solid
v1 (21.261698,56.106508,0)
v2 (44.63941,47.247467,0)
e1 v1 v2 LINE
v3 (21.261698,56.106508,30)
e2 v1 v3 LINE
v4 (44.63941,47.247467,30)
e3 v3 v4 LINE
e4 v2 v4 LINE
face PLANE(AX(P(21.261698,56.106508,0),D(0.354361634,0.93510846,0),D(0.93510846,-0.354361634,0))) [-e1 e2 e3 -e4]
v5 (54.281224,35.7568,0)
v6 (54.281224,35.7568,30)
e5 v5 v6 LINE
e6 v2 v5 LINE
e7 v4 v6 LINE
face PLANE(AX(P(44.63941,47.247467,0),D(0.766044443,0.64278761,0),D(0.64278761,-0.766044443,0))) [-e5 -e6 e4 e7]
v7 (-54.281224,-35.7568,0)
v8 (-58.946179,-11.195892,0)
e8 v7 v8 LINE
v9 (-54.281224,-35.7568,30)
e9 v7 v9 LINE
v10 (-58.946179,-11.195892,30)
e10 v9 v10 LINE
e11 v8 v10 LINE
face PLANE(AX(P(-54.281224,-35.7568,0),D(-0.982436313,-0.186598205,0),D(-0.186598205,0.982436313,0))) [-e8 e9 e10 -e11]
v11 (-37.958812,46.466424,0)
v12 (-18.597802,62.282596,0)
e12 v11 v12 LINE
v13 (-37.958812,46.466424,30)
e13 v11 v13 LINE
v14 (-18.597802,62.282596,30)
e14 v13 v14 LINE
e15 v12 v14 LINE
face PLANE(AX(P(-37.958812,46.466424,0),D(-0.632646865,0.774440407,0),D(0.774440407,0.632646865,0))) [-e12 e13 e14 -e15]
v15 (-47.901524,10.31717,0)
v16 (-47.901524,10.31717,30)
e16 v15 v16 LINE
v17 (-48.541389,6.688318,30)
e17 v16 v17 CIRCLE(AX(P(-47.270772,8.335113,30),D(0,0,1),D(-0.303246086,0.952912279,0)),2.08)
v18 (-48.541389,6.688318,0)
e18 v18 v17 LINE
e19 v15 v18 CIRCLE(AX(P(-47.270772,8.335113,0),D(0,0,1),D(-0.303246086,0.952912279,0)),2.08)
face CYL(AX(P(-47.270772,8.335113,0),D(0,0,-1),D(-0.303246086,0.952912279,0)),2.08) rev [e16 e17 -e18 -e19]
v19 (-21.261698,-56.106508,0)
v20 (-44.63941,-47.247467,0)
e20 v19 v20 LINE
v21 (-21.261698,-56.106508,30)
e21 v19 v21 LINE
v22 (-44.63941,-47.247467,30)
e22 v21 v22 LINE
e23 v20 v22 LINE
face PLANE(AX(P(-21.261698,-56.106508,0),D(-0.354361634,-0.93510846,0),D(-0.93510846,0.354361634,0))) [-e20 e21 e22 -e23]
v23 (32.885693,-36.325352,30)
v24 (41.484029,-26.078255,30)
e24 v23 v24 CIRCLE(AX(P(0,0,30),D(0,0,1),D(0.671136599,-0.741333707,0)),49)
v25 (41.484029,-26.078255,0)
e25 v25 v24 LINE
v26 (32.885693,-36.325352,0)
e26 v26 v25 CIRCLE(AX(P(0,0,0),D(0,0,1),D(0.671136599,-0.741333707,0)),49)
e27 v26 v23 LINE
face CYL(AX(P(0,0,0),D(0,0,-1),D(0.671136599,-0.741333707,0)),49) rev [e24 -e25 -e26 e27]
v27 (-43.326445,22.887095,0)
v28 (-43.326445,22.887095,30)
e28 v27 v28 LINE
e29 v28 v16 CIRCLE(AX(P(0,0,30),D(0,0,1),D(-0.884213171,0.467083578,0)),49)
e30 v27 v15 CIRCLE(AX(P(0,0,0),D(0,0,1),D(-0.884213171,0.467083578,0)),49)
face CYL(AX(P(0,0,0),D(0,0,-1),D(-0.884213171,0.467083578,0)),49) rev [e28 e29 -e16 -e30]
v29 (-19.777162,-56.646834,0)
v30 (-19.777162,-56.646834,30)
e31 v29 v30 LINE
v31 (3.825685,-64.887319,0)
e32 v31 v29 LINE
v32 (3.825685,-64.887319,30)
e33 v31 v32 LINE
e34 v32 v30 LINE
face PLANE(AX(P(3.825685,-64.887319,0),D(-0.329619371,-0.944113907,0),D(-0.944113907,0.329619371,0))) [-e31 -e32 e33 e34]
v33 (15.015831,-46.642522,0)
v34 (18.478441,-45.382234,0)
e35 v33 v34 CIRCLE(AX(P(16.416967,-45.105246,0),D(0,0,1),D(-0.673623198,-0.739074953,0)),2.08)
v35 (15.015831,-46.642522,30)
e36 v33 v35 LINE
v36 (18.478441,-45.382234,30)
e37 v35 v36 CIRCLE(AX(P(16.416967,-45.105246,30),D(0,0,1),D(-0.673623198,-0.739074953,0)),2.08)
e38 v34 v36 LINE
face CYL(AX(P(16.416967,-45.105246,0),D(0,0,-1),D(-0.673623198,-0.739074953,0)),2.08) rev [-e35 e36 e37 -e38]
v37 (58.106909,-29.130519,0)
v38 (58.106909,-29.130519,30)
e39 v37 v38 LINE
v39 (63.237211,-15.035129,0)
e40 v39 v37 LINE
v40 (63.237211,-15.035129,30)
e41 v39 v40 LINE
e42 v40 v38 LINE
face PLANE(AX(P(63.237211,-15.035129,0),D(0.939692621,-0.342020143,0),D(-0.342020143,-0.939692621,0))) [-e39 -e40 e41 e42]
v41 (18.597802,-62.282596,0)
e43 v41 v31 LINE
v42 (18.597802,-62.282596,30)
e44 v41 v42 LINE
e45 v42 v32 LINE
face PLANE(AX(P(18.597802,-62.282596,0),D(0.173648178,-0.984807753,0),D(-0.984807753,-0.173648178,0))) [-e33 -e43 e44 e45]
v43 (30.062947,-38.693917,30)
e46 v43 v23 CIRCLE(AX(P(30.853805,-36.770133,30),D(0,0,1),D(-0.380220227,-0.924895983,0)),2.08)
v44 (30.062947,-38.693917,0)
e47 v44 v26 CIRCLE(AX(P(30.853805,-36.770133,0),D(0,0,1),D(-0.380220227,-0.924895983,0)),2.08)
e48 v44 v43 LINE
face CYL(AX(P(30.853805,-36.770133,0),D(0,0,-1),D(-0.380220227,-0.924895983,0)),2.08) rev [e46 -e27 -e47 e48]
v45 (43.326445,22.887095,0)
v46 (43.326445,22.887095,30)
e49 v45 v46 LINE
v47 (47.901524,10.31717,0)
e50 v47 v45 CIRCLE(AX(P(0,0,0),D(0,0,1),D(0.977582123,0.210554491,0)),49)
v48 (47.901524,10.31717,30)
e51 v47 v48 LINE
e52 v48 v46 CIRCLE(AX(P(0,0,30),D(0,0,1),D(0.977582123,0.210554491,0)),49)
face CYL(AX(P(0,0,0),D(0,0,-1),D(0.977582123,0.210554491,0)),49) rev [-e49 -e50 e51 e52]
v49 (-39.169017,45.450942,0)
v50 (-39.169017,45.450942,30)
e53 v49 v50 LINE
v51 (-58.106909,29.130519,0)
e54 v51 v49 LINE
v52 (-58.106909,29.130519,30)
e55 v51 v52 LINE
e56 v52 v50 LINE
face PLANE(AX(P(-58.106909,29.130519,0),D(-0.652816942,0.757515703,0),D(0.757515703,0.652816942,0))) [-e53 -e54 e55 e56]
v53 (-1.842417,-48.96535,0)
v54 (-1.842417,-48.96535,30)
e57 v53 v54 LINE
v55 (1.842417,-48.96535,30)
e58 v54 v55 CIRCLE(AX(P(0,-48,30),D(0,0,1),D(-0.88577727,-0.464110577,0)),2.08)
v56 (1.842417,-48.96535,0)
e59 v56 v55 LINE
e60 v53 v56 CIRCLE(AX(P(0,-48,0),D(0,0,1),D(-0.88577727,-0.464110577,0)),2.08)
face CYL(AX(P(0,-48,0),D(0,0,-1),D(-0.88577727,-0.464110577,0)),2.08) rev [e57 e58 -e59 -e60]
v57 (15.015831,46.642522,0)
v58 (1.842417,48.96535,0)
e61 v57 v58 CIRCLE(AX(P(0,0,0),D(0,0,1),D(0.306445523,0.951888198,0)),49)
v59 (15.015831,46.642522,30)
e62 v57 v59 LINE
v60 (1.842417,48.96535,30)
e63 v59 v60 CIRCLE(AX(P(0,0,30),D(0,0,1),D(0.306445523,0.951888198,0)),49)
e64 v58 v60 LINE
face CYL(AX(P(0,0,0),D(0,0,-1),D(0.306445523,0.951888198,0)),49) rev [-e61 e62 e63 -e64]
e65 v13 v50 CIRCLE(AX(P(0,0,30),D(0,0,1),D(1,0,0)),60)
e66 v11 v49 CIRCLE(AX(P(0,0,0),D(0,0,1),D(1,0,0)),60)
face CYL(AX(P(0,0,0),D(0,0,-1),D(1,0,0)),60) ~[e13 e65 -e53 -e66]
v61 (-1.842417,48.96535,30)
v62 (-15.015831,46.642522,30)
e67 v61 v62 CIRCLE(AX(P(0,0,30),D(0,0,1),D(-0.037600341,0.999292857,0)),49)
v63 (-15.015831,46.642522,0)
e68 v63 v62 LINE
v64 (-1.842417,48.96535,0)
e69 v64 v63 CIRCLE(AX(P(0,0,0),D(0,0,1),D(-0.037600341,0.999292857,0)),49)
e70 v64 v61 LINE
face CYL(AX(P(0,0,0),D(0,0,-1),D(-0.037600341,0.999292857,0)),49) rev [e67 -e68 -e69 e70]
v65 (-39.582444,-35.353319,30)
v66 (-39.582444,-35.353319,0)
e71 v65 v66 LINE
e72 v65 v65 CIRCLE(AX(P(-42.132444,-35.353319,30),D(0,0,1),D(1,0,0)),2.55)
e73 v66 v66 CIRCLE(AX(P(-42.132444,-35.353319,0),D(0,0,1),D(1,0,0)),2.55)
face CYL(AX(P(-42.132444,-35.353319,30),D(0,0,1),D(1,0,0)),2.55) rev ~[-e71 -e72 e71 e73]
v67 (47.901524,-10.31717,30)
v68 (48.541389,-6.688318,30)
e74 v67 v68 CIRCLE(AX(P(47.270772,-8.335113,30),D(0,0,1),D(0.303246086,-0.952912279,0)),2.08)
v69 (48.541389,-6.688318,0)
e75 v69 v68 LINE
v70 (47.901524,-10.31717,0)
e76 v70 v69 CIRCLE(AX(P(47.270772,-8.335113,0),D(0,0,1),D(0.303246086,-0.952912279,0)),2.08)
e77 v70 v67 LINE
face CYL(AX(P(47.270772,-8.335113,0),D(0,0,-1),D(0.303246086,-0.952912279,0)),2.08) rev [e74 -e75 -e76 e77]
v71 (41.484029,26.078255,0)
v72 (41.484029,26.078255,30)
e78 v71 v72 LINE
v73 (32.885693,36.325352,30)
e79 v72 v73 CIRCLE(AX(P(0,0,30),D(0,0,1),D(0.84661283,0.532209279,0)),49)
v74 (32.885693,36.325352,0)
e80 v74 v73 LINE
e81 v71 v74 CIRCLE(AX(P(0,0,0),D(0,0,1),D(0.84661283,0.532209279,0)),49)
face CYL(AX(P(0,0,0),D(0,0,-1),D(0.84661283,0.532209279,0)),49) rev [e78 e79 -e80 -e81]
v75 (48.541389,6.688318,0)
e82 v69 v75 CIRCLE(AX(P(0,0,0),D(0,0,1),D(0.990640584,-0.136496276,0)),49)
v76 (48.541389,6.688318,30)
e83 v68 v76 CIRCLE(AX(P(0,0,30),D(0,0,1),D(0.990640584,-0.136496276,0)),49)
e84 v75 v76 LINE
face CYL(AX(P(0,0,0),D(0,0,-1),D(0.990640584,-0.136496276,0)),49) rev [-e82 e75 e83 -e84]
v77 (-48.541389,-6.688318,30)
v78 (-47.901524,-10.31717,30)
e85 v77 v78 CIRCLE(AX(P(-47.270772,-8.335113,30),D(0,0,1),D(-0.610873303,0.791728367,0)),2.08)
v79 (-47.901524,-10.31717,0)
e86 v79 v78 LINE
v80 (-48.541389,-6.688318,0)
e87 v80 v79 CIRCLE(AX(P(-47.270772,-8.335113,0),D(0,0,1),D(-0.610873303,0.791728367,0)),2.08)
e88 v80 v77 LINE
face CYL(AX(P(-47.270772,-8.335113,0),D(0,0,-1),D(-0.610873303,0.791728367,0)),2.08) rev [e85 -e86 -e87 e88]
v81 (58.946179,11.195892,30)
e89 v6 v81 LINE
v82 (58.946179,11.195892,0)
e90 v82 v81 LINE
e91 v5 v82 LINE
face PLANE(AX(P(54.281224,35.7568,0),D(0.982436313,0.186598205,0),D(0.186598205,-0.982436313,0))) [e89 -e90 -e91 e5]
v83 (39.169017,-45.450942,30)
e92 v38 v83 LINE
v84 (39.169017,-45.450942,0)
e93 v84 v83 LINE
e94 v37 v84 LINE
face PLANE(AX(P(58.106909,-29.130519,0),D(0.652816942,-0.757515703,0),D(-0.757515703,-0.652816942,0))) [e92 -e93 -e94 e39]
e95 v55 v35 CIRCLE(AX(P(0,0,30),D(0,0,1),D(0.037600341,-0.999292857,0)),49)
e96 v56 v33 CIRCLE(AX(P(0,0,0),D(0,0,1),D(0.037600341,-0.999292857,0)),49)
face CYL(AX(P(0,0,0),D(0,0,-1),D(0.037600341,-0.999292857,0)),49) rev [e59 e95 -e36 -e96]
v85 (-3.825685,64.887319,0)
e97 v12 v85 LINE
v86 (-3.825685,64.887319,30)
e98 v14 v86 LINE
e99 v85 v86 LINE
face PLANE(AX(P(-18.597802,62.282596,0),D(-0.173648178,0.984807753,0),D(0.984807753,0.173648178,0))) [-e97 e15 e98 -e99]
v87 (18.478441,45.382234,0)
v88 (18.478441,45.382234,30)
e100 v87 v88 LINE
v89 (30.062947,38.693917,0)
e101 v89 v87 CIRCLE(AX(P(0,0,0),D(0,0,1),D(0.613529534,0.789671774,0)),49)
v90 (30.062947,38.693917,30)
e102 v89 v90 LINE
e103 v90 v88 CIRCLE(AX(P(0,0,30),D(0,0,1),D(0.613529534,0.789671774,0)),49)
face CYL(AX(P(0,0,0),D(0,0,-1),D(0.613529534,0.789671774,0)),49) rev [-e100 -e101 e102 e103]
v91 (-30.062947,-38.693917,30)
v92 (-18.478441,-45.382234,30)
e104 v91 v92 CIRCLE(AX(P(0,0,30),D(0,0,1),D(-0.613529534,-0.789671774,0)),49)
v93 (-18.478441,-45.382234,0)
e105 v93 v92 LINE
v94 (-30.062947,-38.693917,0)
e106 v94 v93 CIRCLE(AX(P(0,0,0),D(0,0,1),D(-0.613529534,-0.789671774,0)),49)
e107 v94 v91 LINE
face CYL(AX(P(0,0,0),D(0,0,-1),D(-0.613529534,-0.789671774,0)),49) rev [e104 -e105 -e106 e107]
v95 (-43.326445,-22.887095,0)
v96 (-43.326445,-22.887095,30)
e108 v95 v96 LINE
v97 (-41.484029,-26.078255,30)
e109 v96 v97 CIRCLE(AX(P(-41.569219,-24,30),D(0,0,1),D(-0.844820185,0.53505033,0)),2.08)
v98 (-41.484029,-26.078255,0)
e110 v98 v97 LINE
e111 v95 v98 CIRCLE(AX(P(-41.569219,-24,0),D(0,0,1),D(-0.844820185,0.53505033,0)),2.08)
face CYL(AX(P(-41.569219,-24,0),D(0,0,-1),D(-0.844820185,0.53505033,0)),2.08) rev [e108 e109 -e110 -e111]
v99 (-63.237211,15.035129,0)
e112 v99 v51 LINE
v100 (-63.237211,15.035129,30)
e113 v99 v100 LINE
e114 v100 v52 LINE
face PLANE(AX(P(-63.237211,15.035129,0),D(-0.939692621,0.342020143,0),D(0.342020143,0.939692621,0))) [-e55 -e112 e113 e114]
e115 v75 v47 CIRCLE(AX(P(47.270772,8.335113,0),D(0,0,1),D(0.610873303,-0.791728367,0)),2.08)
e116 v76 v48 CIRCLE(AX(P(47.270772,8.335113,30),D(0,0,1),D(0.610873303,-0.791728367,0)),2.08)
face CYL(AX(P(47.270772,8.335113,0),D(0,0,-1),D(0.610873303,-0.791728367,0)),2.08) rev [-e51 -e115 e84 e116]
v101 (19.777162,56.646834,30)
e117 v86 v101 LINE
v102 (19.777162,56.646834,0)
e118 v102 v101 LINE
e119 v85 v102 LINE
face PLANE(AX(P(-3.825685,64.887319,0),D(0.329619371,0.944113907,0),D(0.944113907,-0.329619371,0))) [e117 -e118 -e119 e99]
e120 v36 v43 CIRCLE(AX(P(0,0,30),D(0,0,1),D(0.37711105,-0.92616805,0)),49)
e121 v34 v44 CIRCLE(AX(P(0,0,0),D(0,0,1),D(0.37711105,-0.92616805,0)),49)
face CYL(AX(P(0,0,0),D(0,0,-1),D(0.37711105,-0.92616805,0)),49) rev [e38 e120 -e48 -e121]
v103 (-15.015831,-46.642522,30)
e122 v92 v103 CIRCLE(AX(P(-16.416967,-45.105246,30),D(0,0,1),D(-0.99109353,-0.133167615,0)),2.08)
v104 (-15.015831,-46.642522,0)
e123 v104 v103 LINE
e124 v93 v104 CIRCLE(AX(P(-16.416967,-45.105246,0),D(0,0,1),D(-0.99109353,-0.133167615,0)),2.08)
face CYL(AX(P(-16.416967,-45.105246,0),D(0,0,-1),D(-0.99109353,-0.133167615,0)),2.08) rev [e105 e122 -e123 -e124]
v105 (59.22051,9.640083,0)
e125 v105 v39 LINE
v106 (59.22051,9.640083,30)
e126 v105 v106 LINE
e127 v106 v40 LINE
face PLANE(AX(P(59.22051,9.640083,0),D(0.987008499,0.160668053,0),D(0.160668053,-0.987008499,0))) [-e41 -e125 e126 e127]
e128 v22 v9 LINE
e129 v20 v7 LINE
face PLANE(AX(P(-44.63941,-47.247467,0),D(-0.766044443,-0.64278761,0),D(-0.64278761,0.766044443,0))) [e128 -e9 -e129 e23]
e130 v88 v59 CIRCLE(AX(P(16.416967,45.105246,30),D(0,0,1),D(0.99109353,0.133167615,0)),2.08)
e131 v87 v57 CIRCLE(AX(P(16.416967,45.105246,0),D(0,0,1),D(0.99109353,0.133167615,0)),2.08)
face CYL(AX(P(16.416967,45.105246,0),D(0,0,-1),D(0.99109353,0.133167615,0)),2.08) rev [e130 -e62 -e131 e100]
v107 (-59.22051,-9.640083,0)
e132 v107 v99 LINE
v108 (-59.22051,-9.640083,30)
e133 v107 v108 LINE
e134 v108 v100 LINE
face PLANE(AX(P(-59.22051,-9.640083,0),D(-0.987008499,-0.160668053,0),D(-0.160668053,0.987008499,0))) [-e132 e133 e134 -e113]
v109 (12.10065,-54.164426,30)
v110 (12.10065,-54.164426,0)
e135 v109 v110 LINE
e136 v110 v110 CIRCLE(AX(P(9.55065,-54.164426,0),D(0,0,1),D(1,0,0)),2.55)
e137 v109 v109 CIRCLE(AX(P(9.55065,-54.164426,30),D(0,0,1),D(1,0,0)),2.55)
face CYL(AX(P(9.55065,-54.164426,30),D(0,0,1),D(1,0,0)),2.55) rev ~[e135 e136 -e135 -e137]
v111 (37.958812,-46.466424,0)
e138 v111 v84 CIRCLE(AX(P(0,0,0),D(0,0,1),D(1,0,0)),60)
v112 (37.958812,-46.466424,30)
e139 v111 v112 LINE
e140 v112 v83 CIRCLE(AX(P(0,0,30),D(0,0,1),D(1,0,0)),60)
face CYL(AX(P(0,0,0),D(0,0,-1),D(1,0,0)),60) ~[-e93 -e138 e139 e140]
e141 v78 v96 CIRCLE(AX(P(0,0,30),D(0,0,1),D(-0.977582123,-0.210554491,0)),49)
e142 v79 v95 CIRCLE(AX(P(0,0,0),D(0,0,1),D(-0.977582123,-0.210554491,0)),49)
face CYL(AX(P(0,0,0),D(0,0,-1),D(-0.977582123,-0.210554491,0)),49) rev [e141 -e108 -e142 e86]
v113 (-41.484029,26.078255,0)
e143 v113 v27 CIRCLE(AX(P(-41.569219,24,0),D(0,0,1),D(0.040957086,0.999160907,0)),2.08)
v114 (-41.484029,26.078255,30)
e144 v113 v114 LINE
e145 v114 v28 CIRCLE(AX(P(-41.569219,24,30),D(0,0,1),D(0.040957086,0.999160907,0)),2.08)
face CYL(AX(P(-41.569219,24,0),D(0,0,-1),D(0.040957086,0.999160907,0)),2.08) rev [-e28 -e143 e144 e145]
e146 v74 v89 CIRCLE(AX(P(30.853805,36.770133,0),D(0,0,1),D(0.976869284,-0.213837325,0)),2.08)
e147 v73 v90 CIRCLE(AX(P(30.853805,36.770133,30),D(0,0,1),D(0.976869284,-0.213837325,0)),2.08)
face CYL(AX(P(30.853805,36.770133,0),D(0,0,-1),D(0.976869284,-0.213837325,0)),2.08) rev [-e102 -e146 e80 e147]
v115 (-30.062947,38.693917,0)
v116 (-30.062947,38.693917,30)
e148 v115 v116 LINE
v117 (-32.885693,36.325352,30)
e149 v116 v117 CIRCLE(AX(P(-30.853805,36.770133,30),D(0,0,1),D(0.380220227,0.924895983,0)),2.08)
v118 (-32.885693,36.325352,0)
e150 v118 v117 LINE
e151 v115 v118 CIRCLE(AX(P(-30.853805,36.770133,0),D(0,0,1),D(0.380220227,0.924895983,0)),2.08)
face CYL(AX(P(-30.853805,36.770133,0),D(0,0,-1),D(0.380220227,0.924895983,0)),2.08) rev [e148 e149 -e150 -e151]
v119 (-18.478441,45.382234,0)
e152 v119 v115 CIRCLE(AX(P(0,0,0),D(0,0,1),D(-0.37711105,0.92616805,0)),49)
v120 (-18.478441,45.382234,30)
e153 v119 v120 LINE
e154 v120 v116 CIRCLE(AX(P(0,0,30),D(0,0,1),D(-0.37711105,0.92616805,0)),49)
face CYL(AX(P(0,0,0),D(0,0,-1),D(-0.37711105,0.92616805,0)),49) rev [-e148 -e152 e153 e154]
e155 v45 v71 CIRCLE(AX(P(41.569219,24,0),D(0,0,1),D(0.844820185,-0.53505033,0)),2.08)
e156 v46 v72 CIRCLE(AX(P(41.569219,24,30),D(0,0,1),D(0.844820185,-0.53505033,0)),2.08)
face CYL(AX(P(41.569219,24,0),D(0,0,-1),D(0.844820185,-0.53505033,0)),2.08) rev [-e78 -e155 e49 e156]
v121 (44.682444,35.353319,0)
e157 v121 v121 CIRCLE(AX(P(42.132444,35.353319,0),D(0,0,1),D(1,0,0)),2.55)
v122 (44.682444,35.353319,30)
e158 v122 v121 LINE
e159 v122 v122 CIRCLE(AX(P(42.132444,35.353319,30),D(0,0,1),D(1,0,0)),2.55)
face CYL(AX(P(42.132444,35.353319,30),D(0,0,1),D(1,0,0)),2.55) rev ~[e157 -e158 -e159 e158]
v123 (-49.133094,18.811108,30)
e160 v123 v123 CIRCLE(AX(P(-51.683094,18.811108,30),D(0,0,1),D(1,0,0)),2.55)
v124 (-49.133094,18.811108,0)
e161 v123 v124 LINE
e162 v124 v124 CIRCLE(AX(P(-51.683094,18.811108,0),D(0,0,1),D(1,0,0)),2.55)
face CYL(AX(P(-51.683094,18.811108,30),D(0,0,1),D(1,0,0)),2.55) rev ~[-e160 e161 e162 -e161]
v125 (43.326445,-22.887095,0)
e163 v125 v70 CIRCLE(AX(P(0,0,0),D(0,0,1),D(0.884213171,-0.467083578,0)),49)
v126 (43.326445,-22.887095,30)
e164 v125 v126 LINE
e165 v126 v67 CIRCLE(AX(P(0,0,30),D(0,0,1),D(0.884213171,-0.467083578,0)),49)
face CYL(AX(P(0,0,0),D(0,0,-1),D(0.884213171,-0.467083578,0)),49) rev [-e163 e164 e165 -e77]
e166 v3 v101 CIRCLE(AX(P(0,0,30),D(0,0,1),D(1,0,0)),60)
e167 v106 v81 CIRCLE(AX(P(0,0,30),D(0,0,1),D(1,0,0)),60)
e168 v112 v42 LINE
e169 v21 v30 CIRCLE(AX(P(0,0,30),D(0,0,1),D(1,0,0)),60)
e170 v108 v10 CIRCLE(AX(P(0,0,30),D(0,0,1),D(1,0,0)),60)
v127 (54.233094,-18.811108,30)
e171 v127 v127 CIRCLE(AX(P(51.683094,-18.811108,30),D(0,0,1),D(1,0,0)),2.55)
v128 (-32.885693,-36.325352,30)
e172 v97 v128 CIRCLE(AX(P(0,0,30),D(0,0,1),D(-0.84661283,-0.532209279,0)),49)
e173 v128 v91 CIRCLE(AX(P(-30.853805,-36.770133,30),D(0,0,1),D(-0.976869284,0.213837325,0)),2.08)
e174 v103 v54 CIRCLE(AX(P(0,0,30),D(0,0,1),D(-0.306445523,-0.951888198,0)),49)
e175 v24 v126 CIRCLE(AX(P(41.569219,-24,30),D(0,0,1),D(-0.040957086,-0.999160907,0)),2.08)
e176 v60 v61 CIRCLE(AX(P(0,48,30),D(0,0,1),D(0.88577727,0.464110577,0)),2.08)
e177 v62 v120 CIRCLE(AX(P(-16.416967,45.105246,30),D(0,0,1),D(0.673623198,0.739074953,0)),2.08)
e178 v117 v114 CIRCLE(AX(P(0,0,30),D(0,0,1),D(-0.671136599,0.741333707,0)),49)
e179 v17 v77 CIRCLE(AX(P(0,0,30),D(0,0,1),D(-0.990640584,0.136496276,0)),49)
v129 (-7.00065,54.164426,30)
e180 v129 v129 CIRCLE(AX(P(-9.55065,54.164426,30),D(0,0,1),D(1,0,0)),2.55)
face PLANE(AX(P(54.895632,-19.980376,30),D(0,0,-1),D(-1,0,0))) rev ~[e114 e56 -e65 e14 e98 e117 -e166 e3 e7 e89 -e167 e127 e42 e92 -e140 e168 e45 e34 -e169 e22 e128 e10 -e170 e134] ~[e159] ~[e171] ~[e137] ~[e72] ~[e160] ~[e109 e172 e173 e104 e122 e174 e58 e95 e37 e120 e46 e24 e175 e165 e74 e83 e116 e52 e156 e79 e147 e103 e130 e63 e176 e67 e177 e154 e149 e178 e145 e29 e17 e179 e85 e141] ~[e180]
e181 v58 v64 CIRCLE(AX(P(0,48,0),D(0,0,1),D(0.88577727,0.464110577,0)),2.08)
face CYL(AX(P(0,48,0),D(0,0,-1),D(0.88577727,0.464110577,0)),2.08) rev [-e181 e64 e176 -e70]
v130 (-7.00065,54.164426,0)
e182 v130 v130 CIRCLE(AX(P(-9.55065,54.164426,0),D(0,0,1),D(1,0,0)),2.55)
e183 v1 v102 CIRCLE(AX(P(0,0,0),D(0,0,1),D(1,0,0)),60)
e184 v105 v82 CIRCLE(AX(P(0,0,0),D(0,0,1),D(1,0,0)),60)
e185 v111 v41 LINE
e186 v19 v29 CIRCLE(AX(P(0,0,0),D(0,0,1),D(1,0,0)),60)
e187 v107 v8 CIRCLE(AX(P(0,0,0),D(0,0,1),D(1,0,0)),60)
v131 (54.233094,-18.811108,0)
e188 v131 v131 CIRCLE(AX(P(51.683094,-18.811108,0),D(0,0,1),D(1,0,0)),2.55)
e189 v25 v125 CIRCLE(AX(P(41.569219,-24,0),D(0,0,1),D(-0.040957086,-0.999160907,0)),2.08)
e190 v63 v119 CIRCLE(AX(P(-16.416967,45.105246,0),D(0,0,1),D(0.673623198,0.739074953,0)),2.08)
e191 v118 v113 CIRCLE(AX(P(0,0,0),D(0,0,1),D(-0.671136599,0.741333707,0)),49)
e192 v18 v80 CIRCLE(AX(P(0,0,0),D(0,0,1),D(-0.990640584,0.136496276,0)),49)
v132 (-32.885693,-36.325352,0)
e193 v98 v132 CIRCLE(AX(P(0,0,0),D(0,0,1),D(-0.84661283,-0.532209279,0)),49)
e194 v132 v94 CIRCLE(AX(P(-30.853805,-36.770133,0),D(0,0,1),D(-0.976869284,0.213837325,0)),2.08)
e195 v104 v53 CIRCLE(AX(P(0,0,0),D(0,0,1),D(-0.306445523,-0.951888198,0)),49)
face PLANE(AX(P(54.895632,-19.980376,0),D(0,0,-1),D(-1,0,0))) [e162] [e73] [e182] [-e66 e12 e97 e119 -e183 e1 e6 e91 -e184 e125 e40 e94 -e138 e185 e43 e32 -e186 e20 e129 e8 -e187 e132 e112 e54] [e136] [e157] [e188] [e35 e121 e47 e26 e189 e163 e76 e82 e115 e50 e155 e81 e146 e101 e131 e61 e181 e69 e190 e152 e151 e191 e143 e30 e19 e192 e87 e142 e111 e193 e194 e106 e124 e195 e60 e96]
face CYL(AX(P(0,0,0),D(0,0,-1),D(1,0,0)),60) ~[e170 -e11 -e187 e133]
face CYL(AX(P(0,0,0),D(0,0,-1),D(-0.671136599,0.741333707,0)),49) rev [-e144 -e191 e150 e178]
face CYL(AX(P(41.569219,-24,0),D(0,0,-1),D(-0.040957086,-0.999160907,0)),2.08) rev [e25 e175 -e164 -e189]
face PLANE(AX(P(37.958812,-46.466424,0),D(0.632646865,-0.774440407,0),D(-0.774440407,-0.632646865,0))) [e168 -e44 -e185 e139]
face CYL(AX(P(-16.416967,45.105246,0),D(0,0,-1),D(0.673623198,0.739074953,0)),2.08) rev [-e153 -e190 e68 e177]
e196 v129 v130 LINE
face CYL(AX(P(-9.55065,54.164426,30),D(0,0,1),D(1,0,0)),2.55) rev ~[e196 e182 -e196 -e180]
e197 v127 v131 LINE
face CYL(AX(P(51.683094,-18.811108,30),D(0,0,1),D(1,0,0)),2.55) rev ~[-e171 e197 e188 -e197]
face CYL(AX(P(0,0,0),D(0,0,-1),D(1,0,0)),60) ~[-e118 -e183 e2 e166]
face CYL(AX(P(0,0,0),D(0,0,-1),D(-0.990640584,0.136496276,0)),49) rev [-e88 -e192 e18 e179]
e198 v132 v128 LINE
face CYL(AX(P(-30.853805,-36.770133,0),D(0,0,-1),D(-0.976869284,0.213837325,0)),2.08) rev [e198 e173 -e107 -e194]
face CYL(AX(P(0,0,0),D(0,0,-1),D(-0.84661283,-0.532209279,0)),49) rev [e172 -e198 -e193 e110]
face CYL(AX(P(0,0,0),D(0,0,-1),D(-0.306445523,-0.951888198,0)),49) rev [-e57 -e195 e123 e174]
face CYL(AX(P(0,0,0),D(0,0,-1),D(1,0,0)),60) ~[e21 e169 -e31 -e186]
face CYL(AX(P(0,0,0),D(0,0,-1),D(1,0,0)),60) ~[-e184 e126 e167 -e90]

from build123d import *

# Parameters (mm, degrees)
SKETCH1_R           = 60
BOSS_EXTRUDE1_DEPTH = 30
SKETCH2_R           = 2.55
CUT_EXTRUDE2_DEPTH  = 91
BOSS_EXTRUDE2_START = -30
BOSS_EXTRUDE2_DEPTH = 30


with BuildPart() as part:
    # Sketch1 → Boss-Extrude1 (new body)
    with BuildSketch(Plane.XY):
        Circle(SKETCH1_R)
        with BuildLine():
            ThreePointArc((-15.015830627, 46.642521701), (-17.128368778, 47.059806449), (-18.478441423, 45.382234438))
            ThreePointArc((-18.478441423, 45.382234438), (-24.5, 42.435244785), (-30.062947192, 38.693916914))
            ThreePointArc((-30.062947192, 38.693916914), (-32.190803493, 38.363505711), (-32.885693376, 36.325351632))
            ThreePointArc((-32.885693376, 36.325351632), (-37.536177713, 31.496592875), (-41.484028644, 26.078254686))
            ThreePointArc((-41.484028644, 26.078254686), (-43.370552222, 25.04), (-43.326445366, 22.887095314))
            ThreePointArc((-43.326445366, 22.887095314), (-46.044938419, 16.758987023), (-47.901524003, 10.317170068))
            ThreePointArc((-47.901524003, 10.317170068), (-49.319172271, 8.696300738), (-48.541388615, 6.688317524))
            ThreePointArc((-48.541388615, 6.688317524), (-49, 0), (-48.541388615, -6.688317524))
            ThreePointArc((-48.541388615, -6.688317524), (-49.319172271, -8.696300738), (-47.901524003, -10.317170068))
            ThreePointArc((-47.901524003, -10.317170068), (-46.044938419, -16.758987023), (-43.326445366, -22.887095314))
            ThreePointArc((-43.326445366, -22.887095314), (-43.370552222, -25.04), (-41.484028644, -26.078254686))
            ThreePointArc((-41.484028644, -26.078254686), (-37.536177713, -31.496592875), (-32.885693376, -36.325351632))
            ThreePointArc((-32.885693376, -36.325351632), (-32.190803493, -38.363505711), (-30.062947192, -38.693916914))
            ThreePointArc((-30.062947192, -38.693916914), (-24.5, -42.435244785), (-18.478441423, -45.382234438))
            ThreePointArc((-18.478441423, -45.382234438), (-17.128368778, -47.059806449), (-15.015830627, -46.642521701))
            ThreePointArc((-15.015830627, -46.642521701), (-8.508760706, -48.255579898), (-1.842416722, -48.96535))
            ThreePointArc((-1.842416722, -48.96535), (0, -50.08), (1.842416722, -48.96535))
            ThreePointArc((1.842416722, -48.96535), (8.508760706, -48.255579898), (15.015830627, -46.642521701))
            ThreePointArc((15.015830627, -46.642521701), (17.128368778, -47.059806449), (18.478441423, -45.382234438))
            ThreePointArc((18.478441423, -45.382234438), (24.5, -42.435244785), (30.062947192, -38.693916914))
            ThreePointArc((30.062947192, -38.693916914), (32.190803493, -38.363505711), (32.885693376, -36.325351632))
            ThreePointArc((32.885693376, -36.325351632), (37.536177713, -31.496592875), (41.484028644, -26.078254686))
            ThreePointArc((41.484028644, -26.078254686), (43.370552222, -25.04), (43.326445366, -22.887095314))
            ThreePointArc((43.326445366, -22.887095314), (46.044938419, -16.758987023), (47.901524003, -10.317170068))
            ThreePointArc((47.901524003, -10.317170068), (49.319172271, -8.696300738), (48.541388615, -6.688317524))
            ThreePointArc((48.541388615, -6.688317524), (49, 0), (48.541388615, 6.688317524))
            ThreePointArc((48.541388615, 6.688317524), (49.319172271, 8.696300738), (47.901524003, 10.317170068))
            ThreePointArc((47.901524003, 10.317170068), (46.044938419, 16.758987023), (43.326445366, 22.887095314))
            ThreePointArc((43.326445366, 22.887095314), (43.370552222, 25.04), (41.484028644, 26.078254686))
            ThreePointArc((41.484028644, 26.078254686), (37.536177713, 31.496592875), (32.885693376, 36.325351632))
            ThreePointArc((32.885693376, 36.325351632), (32.190803493, 38.363505711), (30.062947192, 38.693916914))
            ThreePointArc((30.062947192, 38.693916914), (24.5, 42.435244785), (18.478441423, 45.382234438))
            ThreePointArc((18.478441423, 45.382234438), (17.128368778, 47.059806449), (15.015830627, 46.642521701))
            ThreePointArc((15.015830627, 46.642521701), (8.508760706, 48.255579898), (1.842416722, 48.96535))
            ThreePointArc((1.842416722, 48.96535), (0, 50.08), (-1.842416722, 48.96535))
            ThreePointArc((-1.842416722, 48.96535), (-8.508760706, 48.255579898), (-15.015830627, 46.642521701))
        make_face(mode=Mode.SUBTRACT)
    extrude(amount=BOSS_EXTRUDE1_DEPTH)

    # Sketch2 → Cut-Extrude2 (cut, through all)
    with BuildSketch(Plane.XY.offset(30)):
        with Locations((-9.550649772, 54.164426416)):
            Circle(SKETCH2_R)
        with Locations((42.132444372, 35.353318533)):
            Circle(SKETCH2_R)
        with Locations((51.683094143, -18.811107883)):
            Circle(SKETCH2_R)
        with Locations((9.550649772, -54.164426416)):
            Circle(SKETCH2_R)
        with Locations((-42.132444372, -35.353318533)):
            Circle(SKETCH2_R)
        with Locations((-51.683094143, 18.811107883)):
            Circle(SKETCH2_R)
    extrude(amount=-CUT_EXTRUDE2_DEPTH, mode=Mode.SUBTRACT)

    # Sketch3 → Boss-Extrude2 (add)
    with BuildSketch(Plane.XY.offset(30).offset(BOSS_EXTRUDE2_START)):
        with BuildLine():
            Line((-37.958811886, 46.46642444), (-18.597801703, 62.282596059))
            Line((-18.597801703, 62.282596059), (-3.825685408, 64.887318724))
            Line((-3.825685408, 64.887318724), (19.777162276, 56.646834442))
            ThreePointArc((19.777162276, 56.646834442), (-10.41889066, 59.088465181), (-37.958811886, 46.46642444))
        make_face()
        with BuildLine():
            Line((54.281223694, 35.756800112), (58.946178809, 11.195892275))
            ThreePointArc((58.946178809, 11.195892275), (45.962666587, 38.567256581), (21.261698045, 56.106507611))
            Line((21.261698045, 56.106507611), (44.639409549, 47.247466759))
            Line((44.639409549, 47.247466759), (54.281223694, 35.756800112))
        make_face()
        with BuildLine():
            Line((58.106909102, -29.130518612), (39.169016532, -45.450942167))
            ThreePointArc((39.169016532, -45.450942167), (56.381557247, -20.5212086), (59.220509931, 9.640083171))
            Line((59.220509931, 9.640083171), (63.237211252, -15.0351293))
            Line((63.237211252, -15.0351293), (58.106909102, -29.130518612))
        make_face()
        with BuildLine():
            Line((3.825685408, -64.887318724), (-19.777162276, -56.646834442))
            ThreePointArc((-19.777162276, -56.646834442), (10.41889066, -59.088465181), (37.958811886, -46.46642444))
            Line((37.958811886, -46.46642444), (18.597801703, -62.282596059))
            Line((18.597801703, -62.282596059), (3.825685408, -64.887318724))
        make_face()
        with BuildLine():
            Line((-54.281223694, -35.756800112), (-58.946178809, -11.195892275))
            ThreePointArc((-58.946178809, -11.195892275), (-45.962666587, -38.567256581), (-21.261698045, -56.106507611))
            Line((-21.261698045, -56.106507611), (-44.639409549, -47.247466759))
            Line((-44.639409549, -47.247466759), (-54.281223694, -35.756800112))
        make_face()
        with BuildLine():
            Line((-58.106909102, 29.130518612), (-39.169016532, 45.450942167))
            ThreePointArc((-39.169016532, 45.450942167), (-56.381557247, 20.5212086), (-59.220509931, -9.640083171))
            Line((-59.220509931, -9.640083171), (-63.237211252, 15.0351293))
            Line((-63.237211252, 15.0351293), (-58.106909102, 29.130518612))
        make_face()
    extrude(amount=BOSS_EXTRUDE2_DEPTH)


solid = part.part
